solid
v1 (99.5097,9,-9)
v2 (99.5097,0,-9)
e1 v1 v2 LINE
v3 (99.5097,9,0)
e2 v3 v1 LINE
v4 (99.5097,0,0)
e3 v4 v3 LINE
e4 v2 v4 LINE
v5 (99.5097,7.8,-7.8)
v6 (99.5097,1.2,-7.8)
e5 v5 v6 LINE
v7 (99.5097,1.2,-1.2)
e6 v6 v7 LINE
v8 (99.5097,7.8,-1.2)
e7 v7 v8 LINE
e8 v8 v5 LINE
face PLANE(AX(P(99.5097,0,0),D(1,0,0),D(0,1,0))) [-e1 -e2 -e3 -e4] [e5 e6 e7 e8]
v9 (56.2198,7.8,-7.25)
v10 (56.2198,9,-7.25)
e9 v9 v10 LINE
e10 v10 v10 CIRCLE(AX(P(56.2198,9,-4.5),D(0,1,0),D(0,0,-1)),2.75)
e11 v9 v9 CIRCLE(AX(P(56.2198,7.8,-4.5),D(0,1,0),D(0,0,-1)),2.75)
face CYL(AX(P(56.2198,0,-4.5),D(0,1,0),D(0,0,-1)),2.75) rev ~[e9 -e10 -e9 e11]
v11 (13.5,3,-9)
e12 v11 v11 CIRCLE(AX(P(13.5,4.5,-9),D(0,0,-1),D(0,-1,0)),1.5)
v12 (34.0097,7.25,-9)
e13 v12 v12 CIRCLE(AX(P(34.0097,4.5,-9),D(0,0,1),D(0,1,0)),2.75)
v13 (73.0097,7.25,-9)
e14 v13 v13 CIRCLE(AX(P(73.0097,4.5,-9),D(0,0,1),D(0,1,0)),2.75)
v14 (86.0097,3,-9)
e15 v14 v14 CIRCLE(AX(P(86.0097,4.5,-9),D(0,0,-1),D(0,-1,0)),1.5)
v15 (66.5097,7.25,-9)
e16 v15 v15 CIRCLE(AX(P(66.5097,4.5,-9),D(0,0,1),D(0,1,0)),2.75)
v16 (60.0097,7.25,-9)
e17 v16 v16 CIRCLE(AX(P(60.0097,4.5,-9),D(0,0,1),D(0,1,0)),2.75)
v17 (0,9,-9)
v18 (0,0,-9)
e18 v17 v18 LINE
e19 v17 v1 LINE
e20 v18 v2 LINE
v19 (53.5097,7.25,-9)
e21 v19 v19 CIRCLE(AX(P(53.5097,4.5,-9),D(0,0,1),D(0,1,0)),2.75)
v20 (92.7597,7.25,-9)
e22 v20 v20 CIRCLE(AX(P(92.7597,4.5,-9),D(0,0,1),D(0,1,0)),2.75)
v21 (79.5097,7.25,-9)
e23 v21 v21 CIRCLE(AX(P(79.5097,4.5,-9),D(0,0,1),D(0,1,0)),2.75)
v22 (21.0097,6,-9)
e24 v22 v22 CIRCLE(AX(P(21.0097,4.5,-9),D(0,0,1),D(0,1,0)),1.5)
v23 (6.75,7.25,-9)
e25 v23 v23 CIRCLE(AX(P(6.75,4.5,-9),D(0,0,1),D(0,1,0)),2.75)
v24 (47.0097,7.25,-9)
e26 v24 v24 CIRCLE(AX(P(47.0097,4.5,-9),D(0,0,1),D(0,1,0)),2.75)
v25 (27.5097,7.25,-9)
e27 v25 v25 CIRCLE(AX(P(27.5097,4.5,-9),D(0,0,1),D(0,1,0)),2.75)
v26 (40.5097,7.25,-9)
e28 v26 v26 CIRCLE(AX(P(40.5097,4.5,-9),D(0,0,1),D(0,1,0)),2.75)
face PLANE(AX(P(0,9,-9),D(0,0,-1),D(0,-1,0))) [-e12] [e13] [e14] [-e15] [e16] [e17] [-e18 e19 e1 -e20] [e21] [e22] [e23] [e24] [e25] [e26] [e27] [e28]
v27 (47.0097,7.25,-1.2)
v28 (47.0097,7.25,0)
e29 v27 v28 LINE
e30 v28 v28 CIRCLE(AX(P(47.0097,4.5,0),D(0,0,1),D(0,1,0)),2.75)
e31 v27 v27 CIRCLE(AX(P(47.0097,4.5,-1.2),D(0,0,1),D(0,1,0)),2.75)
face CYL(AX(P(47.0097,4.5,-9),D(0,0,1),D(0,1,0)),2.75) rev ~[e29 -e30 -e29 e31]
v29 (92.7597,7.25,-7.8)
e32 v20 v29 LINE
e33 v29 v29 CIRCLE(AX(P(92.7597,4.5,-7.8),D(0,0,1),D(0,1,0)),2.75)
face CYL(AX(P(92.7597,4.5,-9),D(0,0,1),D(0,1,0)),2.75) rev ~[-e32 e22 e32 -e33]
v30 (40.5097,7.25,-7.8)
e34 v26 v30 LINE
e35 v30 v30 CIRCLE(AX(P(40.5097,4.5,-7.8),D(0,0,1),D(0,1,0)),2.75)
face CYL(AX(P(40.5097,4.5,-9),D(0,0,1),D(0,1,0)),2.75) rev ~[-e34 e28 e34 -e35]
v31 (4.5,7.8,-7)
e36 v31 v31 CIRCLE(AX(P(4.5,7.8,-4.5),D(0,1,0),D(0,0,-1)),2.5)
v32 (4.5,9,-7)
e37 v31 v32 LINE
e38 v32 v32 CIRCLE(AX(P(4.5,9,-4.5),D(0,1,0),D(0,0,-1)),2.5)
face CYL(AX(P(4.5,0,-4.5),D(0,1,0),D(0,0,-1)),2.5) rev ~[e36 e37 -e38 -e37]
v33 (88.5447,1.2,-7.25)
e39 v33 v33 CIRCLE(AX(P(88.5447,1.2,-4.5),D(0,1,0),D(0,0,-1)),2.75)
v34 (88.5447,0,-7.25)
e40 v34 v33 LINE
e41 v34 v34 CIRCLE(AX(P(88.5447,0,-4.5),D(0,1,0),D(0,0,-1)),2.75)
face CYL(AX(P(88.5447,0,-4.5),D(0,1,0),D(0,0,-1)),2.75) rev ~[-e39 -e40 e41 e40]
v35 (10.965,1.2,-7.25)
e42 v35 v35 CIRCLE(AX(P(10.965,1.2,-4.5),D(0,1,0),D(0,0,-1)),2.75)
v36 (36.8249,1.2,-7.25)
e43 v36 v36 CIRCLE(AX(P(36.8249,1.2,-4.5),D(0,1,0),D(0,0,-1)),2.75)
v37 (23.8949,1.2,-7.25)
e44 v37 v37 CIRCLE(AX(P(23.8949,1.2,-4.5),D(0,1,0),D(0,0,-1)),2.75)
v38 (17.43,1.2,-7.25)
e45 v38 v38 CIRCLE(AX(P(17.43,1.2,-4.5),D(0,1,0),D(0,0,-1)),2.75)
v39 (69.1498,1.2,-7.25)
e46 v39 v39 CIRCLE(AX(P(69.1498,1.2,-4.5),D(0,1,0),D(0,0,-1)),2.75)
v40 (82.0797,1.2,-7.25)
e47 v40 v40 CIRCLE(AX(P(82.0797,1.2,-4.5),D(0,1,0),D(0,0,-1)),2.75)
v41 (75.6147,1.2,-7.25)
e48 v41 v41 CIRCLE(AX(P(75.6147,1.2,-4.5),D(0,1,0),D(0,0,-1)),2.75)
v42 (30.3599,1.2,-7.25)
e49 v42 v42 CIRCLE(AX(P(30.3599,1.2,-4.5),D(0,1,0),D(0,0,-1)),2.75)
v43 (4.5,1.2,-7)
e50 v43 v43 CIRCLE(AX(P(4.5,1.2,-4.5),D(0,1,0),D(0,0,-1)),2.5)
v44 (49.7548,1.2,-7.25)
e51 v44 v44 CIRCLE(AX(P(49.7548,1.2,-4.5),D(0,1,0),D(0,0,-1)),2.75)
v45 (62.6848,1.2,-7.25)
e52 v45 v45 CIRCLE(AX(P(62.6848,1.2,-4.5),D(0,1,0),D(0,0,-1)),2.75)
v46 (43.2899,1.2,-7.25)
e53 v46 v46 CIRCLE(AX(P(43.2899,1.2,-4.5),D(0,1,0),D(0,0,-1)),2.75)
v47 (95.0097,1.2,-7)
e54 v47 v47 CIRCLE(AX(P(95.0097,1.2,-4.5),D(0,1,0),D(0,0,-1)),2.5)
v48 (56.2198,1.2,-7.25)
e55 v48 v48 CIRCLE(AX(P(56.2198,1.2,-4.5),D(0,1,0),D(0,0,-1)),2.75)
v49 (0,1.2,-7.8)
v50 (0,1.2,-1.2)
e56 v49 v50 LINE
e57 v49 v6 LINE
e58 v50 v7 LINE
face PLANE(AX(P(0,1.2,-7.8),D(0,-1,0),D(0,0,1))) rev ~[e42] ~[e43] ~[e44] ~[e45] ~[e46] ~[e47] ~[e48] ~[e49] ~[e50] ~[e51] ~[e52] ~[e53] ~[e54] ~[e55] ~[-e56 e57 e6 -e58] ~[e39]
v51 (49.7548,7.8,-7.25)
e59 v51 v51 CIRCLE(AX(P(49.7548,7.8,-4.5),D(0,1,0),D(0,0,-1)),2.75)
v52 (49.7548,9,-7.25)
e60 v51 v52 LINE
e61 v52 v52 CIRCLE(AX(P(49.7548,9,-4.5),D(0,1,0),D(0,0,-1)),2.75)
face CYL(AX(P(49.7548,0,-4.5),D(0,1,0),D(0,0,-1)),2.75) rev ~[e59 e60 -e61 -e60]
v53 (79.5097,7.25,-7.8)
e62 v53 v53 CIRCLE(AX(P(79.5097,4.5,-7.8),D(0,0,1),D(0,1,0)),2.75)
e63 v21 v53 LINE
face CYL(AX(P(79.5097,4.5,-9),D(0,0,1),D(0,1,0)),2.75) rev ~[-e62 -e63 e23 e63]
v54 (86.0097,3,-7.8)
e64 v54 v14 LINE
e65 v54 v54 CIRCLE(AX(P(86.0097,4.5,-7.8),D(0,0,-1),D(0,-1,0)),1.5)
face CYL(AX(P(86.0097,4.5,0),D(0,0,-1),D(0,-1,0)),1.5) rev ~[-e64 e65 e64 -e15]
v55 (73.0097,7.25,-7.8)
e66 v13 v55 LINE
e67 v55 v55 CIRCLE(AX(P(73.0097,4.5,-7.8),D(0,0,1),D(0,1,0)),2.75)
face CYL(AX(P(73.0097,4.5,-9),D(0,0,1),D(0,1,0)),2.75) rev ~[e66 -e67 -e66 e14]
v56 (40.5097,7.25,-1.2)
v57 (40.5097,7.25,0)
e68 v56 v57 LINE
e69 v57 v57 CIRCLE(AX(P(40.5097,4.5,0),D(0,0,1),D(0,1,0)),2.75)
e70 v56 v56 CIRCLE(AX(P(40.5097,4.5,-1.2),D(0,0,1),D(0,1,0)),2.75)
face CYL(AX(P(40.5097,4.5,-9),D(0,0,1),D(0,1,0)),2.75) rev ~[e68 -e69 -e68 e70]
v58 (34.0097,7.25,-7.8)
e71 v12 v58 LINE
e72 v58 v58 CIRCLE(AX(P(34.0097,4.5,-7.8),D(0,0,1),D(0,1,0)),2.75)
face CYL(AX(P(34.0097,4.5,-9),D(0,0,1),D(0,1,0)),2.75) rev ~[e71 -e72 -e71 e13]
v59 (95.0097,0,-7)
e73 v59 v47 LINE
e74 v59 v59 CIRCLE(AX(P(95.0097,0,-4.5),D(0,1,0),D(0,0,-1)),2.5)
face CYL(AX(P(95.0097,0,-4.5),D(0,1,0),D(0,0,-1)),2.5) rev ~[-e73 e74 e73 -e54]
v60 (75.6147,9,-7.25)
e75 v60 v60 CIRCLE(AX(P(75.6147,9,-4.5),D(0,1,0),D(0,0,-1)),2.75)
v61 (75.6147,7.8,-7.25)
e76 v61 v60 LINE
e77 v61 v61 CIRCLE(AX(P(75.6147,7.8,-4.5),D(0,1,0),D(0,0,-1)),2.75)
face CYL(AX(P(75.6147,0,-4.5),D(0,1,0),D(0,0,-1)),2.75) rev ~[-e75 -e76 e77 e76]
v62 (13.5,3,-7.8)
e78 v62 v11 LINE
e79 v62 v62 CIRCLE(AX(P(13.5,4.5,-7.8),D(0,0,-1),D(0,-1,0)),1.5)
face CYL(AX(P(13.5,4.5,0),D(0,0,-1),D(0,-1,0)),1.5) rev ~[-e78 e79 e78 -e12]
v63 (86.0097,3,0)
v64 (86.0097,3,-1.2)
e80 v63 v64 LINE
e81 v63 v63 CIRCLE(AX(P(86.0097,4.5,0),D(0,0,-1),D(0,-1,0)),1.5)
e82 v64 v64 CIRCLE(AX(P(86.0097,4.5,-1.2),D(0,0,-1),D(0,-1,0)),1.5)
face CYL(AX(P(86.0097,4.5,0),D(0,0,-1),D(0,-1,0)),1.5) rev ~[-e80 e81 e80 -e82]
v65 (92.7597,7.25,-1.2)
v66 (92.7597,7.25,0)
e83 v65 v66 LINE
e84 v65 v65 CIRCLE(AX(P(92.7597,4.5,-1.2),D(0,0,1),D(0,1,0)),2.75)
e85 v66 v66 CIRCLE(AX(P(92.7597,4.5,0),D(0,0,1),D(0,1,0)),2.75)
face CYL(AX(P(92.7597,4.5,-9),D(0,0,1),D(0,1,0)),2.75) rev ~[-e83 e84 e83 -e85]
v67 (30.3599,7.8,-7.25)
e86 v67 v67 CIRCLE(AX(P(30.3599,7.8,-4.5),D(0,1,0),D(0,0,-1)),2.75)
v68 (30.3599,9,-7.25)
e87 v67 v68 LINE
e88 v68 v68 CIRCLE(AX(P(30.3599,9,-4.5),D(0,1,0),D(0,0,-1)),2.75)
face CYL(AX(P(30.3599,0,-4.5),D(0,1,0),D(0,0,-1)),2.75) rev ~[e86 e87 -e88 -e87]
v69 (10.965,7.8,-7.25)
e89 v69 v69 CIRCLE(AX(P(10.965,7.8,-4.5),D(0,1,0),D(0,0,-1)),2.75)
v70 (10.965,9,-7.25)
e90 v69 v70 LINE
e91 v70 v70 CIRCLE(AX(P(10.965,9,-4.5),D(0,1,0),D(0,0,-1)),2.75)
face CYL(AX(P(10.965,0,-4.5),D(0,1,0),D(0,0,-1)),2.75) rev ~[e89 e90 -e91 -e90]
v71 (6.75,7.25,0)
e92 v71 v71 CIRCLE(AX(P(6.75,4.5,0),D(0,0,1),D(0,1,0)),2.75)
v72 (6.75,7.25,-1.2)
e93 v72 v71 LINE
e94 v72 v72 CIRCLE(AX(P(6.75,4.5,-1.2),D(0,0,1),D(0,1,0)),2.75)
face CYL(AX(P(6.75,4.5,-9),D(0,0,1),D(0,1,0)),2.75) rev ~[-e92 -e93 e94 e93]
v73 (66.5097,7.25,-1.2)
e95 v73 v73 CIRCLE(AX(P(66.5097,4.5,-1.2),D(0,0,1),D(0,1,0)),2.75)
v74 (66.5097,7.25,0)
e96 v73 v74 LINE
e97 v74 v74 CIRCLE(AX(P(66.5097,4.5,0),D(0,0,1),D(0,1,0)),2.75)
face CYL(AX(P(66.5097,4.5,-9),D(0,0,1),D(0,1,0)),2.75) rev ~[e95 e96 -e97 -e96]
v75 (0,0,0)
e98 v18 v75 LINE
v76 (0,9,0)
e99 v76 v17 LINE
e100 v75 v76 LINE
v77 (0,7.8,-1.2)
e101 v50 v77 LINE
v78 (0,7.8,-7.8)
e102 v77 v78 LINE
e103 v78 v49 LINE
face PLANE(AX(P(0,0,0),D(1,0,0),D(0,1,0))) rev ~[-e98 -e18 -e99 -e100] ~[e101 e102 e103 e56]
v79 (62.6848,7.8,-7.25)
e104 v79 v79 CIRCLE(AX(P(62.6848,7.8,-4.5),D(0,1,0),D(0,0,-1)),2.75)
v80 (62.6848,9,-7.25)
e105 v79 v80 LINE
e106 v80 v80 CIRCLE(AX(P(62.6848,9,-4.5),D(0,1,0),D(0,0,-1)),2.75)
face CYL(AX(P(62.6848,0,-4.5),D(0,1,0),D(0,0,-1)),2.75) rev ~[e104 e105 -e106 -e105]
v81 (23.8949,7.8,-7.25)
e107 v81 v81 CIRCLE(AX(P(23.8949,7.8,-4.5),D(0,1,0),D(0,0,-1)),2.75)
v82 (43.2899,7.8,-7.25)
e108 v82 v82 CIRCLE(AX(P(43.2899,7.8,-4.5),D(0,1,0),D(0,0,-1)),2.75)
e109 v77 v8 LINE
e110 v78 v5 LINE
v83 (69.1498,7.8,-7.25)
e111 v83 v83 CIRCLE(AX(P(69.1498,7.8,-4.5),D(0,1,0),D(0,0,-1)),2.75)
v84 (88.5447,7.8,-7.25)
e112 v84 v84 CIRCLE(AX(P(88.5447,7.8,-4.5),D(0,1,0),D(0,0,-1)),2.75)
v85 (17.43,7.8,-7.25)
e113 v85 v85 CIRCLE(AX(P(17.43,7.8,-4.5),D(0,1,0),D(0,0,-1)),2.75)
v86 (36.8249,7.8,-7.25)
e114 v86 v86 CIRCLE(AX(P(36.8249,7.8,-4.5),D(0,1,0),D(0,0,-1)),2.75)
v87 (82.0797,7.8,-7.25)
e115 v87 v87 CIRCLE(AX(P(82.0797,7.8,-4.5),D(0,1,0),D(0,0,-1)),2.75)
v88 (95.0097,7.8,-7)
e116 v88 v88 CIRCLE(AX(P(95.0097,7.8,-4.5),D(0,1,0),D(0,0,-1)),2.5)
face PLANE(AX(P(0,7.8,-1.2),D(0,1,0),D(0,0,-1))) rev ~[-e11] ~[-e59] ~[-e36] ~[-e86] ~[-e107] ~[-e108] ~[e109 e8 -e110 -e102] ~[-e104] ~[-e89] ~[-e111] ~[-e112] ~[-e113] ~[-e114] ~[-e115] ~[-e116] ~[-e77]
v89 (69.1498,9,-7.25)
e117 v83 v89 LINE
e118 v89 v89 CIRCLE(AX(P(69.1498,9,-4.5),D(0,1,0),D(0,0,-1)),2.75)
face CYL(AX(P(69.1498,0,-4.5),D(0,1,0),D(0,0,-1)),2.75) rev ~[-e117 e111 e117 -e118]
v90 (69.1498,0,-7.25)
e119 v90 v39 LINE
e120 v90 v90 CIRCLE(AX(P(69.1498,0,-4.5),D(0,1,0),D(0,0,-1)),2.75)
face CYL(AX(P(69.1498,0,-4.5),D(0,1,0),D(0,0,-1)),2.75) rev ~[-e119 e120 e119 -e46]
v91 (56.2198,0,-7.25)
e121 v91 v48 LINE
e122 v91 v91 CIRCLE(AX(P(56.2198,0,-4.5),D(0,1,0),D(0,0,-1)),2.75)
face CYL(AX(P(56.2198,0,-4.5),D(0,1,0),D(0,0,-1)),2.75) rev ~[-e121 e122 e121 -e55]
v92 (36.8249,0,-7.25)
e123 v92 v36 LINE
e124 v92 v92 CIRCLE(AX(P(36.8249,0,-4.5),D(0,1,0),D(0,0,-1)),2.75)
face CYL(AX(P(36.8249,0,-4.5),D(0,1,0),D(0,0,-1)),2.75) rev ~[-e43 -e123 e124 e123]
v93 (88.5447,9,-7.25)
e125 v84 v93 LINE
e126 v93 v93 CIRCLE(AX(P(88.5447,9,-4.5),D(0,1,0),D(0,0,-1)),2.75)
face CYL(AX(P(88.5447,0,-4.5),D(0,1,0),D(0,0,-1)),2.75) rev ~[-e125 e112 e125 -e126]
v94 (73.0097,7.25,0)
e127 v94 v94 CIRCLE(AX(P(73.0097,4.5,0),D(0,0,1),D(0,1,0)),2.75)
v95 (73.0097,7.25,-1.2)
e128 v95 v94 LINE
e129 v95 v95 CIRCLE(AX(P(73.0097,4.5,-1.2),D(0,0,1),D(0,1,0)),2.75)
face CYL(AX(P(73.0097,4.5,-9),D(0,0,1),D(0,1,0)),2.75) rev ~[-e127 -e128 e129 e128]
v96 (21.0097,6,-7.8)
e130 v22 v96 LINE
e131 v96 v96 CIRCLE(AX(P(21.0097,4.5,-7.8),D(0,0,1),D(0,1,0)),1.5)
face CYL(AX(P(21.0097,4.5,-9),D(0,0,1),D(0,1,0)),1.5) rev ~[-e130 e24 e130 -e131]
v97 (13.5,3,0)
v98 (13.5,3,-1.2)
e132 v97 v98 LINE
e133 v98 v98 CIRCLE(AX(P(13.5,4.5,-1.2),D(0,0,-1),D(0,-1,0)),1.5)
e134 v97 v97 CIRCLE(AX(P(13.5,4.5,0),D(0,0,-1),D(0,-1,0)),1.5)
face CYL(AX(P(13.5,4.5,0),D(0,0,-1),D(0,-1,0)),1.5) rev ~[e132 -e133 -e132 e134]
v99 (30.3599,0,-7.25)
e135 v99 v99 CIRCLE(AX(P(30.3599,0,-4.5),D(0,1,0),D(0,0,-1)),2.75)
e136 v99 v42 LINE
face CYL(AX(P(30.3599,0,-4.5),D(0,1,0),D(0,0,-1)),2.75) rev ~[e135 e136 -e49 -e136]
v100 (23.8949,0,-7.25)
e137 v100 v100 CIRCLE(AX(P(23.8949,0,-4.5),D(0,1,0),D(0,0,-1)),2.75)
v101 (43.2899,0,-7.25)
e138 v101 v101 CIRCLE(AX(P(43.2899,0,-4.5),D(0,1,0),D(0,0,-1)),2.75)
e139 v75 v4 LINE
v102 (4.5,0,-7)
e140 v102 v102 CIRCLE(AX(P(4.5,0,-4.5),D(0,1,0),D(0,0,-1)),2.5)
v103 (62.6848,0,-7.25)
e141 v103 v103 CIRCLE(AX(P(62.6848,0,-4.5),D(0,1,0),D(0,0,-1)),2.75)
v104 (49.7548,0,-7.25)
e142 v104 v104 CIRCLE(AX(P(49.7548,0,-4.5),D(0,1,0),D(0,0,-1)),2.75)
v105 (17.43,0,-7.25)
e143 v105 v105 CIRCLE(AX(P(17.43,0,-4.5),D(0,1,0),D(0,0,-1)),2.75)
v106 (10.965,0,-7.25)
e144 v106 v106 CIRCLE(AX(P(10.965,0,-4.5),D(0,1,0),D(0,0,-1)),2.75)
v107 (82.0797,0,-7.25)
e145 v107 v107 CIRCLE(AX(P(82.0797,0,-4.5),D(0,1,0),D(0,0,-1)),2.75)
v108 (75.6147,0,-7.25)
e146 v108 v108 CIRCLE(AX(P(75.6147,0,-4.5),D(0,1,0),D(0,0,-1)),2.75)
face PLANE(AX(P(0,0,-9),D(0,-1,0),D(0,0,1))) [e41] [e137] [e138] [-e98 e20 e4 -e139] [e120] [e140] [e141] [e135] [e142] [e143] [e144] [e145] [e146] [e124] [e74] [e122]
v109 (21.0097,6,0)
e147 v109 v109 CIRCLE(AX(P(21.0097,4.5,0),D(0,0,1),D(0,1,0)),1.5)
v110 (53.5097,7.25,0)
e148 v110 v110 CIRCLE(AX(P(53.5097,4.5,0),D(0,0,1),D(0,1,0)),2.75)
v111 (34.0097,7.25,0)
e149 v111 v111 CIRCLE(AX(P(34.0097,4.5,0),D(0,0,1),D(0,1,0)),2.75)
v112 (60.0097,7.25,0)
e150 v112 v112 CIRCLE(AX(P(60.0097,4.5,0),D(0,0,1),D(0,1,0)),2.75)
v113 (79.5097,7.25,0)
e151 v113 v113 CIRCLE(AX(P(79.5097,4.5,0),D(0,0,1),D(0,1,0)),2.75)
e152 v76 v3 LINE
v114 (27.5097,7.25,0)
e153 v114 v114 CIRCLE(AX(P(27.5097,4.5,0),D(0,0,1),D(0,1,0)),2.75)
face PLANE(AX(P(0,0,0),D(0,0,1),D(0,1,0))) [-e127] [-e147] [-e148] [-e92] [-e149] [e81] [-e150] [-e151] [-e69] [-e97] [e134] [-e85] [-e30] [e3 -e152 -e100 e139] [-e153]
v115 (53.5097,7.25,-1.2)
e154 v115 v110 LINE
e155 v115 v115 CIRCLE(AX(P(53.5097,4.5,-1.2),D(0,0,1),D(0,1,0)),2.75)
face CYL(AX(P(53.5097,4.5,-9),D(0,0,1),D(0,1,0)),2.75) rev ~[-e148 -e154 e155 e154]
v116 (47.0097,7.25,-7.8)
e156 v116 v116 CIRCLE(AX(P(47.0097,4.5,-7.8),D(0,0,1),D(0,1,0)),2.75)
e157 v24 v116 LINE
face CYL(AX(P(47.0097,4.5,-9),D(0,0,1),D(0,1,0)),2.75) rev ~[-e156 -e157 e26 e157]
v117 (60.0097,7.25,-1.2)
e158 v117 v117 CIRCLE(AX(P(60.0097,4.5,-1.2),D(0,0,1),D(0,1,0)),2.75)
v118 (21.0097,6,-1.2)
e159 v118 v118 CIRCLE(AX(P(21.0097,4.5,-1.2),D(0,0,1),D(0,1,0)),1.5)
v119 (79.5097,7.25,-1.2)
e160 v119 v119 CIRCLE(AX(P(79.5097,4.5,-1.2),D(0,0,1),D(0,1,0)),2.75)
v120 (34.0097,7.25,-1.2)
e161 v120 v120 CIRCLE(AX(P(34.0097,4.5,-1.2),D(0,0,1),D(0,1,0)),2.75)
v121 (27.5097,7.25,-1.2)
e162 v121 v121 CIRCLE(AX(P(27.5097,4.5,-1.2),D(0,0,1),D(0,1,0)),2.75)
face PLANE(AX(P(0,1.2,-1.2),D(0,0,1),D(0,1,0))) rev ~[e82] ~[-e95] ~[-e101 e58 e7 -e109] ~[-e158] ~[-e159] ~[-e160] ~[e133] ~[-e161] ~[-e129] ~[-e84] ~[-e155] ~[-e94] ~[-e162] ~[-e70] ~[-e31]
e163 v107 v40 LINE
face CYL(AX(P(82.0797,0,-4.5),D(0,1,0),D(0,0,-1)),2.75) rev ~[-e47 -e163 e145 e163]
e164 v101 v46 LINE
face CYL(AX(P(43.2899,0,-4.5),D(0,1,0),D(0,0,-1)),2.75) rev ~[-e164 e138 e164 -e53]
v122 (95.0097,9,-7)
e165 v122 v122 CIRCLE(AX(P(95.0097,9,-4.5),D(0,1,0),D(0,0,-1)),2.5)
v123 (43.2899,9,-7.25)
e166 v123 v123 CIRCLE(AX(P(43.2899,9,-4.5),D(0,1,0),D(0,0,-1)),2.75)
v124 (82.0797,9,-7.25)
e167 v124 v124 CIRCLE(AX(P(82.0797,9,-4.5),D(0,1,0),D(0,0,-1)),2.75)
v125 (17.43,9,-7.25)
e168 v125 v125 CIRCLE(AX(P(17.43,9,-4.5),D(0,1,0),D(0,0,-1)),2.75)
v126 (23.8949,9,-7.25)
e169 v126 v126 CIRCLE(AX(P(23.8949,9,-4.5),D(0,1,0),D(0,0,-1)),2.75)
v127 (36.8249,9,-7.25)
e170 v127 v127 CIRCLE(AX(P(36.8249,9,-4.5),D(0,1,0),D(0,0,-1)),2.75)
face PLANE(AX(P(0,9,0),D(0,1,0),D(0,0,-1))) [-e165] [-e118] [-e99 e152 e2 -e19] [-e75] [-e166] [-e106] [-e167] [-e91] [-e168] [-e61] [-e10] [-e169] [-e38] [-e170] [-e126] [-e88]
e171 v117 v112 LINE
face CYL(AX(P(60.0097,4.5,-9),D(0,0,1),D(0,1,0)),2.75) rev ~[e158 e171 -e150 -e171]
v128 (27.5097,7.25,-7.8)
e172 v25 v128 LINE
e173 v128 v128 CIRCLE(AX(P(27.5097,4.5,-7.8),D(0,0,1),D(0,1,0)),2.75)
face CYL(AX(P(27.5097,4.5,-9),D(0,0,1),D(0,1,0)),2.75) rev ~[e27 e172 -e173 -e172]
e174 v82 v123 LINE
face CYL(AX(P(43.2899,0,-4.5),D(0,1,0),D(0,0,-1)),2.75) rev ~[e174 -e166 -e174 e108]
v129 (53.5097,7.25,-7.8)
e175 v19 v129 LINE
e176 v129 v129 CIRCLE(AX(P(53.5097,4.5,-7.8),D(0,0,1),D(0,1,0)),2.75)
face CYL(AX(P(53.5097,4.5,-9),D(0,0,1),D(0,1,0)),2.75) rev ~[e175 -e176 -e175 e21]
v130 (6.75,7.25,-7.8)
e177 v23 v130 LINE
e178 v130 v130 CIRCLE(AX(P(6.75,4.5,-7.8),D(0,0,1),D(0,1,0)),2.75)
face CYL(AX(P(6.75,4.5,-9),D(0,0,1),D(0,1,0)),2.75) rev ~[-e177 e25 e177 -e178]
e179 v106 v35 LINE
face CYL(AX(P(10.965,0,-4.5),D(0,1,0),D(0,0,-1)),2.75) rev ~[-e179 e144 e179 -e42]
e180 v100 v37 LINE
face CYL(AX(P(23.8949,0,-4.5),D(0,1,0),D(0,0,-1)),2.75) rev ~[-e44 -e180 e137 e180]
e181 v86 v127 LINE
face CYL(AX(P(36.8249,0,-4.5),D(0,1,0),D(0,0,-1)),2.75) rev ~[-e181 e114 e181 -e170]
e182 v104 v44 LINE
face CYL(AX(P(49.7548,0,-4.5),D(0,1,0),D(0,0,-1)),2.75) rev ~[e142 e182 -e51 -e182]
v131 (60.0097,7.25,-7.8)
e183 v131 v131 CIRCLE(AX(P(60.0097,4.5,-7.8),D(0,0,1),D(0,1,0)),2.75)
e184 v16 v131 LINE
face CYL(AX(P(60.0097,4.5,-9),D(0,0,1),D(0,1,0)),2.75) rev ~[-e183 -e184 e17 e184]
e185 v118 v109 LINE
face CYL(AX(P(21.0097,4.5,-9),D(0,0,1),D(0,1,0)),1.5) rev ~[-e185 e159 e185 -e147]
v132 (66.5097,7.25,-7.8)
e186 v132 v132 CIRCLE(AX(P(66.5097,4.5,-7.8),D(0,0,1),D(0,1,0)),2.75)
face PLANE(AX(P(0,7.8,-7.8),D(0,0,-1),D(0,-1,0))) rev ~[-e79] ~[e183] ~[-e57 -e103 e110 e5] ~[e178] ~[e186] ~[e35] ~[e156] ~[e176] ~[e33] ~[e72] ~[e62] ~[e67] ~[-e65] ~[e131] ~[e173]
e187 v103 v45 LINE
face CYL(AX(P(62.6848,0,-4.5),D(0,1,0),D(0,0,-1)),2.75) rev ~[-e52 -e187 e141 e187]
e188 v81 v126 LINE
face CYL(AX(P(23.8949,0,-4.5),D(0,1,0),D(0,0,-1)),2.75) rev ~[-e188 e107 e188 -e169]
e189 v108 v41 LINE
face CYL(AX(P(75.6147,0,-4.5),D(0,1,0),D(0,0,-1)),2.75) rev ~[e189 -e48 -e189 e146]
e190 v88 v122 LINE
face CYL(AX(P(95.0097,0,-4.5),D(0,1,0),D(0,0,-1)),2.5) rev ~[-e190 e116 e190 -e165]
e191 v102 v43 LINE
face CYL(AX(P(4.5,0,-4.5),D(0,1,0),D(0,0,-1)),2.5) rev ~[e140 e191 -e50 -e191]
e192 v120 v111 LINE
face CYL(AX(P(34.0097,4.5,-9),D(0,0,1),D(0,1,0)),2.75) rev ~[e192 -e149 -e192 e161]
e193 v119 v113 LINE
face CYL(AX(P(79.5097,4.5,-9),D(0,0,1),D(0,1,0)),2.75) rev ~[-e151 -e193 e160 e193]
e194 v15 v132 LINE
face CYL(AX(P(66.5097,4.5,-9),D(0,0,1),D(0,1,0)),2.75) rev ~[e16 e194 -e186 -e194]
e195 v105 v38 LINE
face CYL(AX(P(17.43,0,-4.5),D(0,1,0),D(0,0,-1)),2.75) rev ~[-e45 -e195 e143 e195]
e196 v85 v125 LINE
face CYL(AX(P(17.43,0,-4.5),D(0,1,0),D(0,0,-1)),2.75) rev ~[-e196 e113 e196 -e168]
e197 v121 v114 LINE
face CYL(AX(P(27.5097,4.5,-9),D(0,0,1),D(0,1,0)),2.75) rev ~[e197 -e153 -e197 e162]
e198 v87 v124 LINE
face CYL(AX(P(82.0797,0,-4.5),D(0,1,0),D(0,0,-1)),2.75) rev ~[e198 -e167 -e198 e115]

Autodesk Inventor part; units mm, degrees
ref_plane "YZ Plane" through (0, 0, 0) normal (1, 0, 0) x (0, 1, 0)
ref_plane "XZ Plane" through (0, 0, 0) normal (0, 1, 0) x (-1, 0, 0)
ref_plane "XY Plane" through (0, 0, 0) normal (0, 0, 1) x (1, 0, 0)
sketch "スケッチ1" plane through (0, 0, 0) normal (1, 0, 0) x (0, 1, 0)
  line L0 (0, 0) -> (9, 0)
  line L1 (9, 0) -> (9, -9)
  line L2 (9, -9) -> (0, -9)
  line L3 (0, -9) -> (0, 0)
  line L4 (1.2, -1.2) -> (7.8, -1.2)
  line L5 (7.8, -1.2) -> (7.8, -7.8)
  line L6 (7.8, -7.8) -> (1.2, -7.8)
  line L7 (1.2, -7.8) -> (1.2, -1.2)
  dimension "d0" = 9
  dimension "d1" = 9
  dimension "d2" = 1.2
  dimension "d3" = 1.2
  dimension "d4" = 1.2
  dimension "d5" = 1.2
extrude "押し出し1" add sketch "スケッチ1" along normal blind 99.5097
sketch "スケッチ2" plane through (0, 0, -9) normal (0, -1, 0) x (1, 0, 0)
  line L0 (0, 9) -> (0, 0) projected
  line L1 (99.5097, 9) -> (99.5097, 0) projected
  line L2 (0, 9) -> (99.5097, 9) projected
  point P0 (95.0097, 4.5)
  point P1 (4.5, 4.5)
  dimension "d8" = 4.5
  dimension "d9" = 4.5
  dimension "d10" = 4.5
  dimension "d11" = 4.5
hole "穴1" at (95.0097, 0, -4.5) at (4.5, 0, -4.5) direction (0, 1, 0) diameter 5 end through all
sketch "スケッチ3" plane through (0, 0, 0) normal (0, 0, 1) x (1, 0, 0)
  line L0 (0, 9) -> (0, 0) projected
  line L1 (0, 9) -> (99.5097, 9) projected
  line L2 (99.5097, 9) -> (99.5097, 0) projected
  point P0 (13.5, 4.5)
  point P1 (86.0097, 4.5)
  dimension "d19" = 13.5
  dimension "d20" = 4.5
  dimension "d21" = 4.5
  dimension "d22" = 13.5
hole "穴2" at (13.5, 4.5, 0) at (86.0097, 4.5, 0) direction (0, 0, -1) diameter 3 end through all
sketch "スケッチ5" plane through (0, 0, -9) normal (0, 0, -1) x (-1, 0, 0)
  line L0 (-99.5097, 0) -> (-99.5097, 9) projected
  line L1 (0, 9) -> (-99.5097, 9) projected
  point P0 (0, 0)
  point P1 (-21.0097, 4.5)
  dimension "d39" = 78.5
  dimension "d40" = 4.5
hole "穴4" at (21.0097, 4.5, -9) direction (0, 0, 1) diameter 3 end through all
sketch "スケッチ6" plane through (0, 0, -9) normal (0, -1, 0) x (1, 0, 0)
  circle A0 centre (95.0097, 4.5) radius 2.5 projected
  circle A1 centre (4.5, 4.5) radius 2.5 projected
  line L0 (4.5, 4.5) -> (95.0097, 4.5)
  point P0 (0, 9)
  point P1 (88.5447, 4.5)
  point P2 (82.0797, 4.5)
  point P3 (75.6147, 4.5)
  point P4 (69.1498, 4.5)
  point P5 (62.6848, 4.5)
  point P6 (56.2198, 4.5)
  point P7 (49.7548, 4.5)
  point P8 (43.2899, 4.5)
  point P9 (36.8249, 4.5)
  point P10 (30.3599, 4.5)
  point P11 (23.8949, 4.5)
  point P12 (17.43, 4.5)
  point P13 (10.965, 4.5)
  dimension "d48" = 90.5097
  dimension "d49" = 6.465
  dimension "d52" = 6.465
hole "穴5" at (88.5447, 0, -4.5) at (82.0797, 0, -4.5) at (75.6147, 0, -4.5) at (69.1498, 0, -4.5) at (62.6848, 0, -4.5) at (56.2198, 0, -4.5) at (49.7548, 0, -4.5) at (43.2899, 0, -4.5) at (36.8249, 0, -4.5) at (30.3599, 0, -4.5) at (23.8949, 0, -4.5) at (17.43, 0, -4.5) at (10.965, 0, -4.5) direction (0, 1, 0) diameter 5.5 end through all
sketch "スケッチ7" plane through (0, 0, -9) normal (0, 0, -1) x (-1, 0, 0)
  line L0 (0, 9) -> (-99.5097, 9) projected
  circle A0 centre (-13.5, 4.5) radius 1.5 projected
  line L1 (0, 0) -> (0, 9) projected
  line L2 (-99.5097, 0) -> (-99.5097, 9) projected
  circle A1 centre (-86.0097, 4.5) radius 1.5 projected
  circle A2 centre (-21.0097, 4.5) radius 1.5 projected
  line L3 (-86.0097, 4.5) -> (-21.0097, 4.5)
  point P0 (-92.7597, 4.5)
  point P1 (-6.75, 4.5)
  point P2 (-79.5097, 4.5)
  point P3 (-73.0097, 4.5)
  point P4 (-66.5097, 4.5)
  point P5 (-60.0097, 4.5)
  point P6 (-53.5097, 4.5)
  point P7 (-47.0097, 4.5)
  point P8 (-40.5097, 4.5)
  point P9 (-34.0097, 4.5)
  point P10 (-27.5097, 4.5)
  dimension "d64" = 4.5
  dimension "d65" = 4.5
  dimension "d68" = 13.5
  dimension "d69" = 6.75
  dimension "d70" = 13.5
  dimension "d71" = 6.75
  dimension "d72" = 65
  dimension "d73" = 6.5
  dimension "d76" = 6.5
hole "穴6" at (92.7597, 4.5, -9) at (6.75, 4.5, -9) at (79.5097, 4.5, -9) at (73.0097, 4.5, -9) at (66.5097, 4.5, -9) at (60.0097, 4.5, -9) at (53.5097, 4.5, -9) at (47.0097, 4.5, -9) at (40.5097, 4.5, -9) at (34.0097, 4.5, -9) at (27.5097, 4.5, -9) direction (0, 0, 1) diameter 5.5 end through all
equation "\"d3\" = d2"
equation "\"d4\" = d2"
equation "\"d5\" = d4"
equation "\"d9\" = d8"
equation "\"d11\" = d10"
equation "\"d49\" = 0.0714286 * d48"
equation "\"d52\" = d49"
equation "\"d69\" = 0.5 * d68"
equation "\"d71\" = 0.5 * d70"
equation "\"d73\" = 0.1 * d72"
equation "\"d76\" = d73"
properties part number "ロボット回転9ｘ9_1" material "アルミニウム 6061"
